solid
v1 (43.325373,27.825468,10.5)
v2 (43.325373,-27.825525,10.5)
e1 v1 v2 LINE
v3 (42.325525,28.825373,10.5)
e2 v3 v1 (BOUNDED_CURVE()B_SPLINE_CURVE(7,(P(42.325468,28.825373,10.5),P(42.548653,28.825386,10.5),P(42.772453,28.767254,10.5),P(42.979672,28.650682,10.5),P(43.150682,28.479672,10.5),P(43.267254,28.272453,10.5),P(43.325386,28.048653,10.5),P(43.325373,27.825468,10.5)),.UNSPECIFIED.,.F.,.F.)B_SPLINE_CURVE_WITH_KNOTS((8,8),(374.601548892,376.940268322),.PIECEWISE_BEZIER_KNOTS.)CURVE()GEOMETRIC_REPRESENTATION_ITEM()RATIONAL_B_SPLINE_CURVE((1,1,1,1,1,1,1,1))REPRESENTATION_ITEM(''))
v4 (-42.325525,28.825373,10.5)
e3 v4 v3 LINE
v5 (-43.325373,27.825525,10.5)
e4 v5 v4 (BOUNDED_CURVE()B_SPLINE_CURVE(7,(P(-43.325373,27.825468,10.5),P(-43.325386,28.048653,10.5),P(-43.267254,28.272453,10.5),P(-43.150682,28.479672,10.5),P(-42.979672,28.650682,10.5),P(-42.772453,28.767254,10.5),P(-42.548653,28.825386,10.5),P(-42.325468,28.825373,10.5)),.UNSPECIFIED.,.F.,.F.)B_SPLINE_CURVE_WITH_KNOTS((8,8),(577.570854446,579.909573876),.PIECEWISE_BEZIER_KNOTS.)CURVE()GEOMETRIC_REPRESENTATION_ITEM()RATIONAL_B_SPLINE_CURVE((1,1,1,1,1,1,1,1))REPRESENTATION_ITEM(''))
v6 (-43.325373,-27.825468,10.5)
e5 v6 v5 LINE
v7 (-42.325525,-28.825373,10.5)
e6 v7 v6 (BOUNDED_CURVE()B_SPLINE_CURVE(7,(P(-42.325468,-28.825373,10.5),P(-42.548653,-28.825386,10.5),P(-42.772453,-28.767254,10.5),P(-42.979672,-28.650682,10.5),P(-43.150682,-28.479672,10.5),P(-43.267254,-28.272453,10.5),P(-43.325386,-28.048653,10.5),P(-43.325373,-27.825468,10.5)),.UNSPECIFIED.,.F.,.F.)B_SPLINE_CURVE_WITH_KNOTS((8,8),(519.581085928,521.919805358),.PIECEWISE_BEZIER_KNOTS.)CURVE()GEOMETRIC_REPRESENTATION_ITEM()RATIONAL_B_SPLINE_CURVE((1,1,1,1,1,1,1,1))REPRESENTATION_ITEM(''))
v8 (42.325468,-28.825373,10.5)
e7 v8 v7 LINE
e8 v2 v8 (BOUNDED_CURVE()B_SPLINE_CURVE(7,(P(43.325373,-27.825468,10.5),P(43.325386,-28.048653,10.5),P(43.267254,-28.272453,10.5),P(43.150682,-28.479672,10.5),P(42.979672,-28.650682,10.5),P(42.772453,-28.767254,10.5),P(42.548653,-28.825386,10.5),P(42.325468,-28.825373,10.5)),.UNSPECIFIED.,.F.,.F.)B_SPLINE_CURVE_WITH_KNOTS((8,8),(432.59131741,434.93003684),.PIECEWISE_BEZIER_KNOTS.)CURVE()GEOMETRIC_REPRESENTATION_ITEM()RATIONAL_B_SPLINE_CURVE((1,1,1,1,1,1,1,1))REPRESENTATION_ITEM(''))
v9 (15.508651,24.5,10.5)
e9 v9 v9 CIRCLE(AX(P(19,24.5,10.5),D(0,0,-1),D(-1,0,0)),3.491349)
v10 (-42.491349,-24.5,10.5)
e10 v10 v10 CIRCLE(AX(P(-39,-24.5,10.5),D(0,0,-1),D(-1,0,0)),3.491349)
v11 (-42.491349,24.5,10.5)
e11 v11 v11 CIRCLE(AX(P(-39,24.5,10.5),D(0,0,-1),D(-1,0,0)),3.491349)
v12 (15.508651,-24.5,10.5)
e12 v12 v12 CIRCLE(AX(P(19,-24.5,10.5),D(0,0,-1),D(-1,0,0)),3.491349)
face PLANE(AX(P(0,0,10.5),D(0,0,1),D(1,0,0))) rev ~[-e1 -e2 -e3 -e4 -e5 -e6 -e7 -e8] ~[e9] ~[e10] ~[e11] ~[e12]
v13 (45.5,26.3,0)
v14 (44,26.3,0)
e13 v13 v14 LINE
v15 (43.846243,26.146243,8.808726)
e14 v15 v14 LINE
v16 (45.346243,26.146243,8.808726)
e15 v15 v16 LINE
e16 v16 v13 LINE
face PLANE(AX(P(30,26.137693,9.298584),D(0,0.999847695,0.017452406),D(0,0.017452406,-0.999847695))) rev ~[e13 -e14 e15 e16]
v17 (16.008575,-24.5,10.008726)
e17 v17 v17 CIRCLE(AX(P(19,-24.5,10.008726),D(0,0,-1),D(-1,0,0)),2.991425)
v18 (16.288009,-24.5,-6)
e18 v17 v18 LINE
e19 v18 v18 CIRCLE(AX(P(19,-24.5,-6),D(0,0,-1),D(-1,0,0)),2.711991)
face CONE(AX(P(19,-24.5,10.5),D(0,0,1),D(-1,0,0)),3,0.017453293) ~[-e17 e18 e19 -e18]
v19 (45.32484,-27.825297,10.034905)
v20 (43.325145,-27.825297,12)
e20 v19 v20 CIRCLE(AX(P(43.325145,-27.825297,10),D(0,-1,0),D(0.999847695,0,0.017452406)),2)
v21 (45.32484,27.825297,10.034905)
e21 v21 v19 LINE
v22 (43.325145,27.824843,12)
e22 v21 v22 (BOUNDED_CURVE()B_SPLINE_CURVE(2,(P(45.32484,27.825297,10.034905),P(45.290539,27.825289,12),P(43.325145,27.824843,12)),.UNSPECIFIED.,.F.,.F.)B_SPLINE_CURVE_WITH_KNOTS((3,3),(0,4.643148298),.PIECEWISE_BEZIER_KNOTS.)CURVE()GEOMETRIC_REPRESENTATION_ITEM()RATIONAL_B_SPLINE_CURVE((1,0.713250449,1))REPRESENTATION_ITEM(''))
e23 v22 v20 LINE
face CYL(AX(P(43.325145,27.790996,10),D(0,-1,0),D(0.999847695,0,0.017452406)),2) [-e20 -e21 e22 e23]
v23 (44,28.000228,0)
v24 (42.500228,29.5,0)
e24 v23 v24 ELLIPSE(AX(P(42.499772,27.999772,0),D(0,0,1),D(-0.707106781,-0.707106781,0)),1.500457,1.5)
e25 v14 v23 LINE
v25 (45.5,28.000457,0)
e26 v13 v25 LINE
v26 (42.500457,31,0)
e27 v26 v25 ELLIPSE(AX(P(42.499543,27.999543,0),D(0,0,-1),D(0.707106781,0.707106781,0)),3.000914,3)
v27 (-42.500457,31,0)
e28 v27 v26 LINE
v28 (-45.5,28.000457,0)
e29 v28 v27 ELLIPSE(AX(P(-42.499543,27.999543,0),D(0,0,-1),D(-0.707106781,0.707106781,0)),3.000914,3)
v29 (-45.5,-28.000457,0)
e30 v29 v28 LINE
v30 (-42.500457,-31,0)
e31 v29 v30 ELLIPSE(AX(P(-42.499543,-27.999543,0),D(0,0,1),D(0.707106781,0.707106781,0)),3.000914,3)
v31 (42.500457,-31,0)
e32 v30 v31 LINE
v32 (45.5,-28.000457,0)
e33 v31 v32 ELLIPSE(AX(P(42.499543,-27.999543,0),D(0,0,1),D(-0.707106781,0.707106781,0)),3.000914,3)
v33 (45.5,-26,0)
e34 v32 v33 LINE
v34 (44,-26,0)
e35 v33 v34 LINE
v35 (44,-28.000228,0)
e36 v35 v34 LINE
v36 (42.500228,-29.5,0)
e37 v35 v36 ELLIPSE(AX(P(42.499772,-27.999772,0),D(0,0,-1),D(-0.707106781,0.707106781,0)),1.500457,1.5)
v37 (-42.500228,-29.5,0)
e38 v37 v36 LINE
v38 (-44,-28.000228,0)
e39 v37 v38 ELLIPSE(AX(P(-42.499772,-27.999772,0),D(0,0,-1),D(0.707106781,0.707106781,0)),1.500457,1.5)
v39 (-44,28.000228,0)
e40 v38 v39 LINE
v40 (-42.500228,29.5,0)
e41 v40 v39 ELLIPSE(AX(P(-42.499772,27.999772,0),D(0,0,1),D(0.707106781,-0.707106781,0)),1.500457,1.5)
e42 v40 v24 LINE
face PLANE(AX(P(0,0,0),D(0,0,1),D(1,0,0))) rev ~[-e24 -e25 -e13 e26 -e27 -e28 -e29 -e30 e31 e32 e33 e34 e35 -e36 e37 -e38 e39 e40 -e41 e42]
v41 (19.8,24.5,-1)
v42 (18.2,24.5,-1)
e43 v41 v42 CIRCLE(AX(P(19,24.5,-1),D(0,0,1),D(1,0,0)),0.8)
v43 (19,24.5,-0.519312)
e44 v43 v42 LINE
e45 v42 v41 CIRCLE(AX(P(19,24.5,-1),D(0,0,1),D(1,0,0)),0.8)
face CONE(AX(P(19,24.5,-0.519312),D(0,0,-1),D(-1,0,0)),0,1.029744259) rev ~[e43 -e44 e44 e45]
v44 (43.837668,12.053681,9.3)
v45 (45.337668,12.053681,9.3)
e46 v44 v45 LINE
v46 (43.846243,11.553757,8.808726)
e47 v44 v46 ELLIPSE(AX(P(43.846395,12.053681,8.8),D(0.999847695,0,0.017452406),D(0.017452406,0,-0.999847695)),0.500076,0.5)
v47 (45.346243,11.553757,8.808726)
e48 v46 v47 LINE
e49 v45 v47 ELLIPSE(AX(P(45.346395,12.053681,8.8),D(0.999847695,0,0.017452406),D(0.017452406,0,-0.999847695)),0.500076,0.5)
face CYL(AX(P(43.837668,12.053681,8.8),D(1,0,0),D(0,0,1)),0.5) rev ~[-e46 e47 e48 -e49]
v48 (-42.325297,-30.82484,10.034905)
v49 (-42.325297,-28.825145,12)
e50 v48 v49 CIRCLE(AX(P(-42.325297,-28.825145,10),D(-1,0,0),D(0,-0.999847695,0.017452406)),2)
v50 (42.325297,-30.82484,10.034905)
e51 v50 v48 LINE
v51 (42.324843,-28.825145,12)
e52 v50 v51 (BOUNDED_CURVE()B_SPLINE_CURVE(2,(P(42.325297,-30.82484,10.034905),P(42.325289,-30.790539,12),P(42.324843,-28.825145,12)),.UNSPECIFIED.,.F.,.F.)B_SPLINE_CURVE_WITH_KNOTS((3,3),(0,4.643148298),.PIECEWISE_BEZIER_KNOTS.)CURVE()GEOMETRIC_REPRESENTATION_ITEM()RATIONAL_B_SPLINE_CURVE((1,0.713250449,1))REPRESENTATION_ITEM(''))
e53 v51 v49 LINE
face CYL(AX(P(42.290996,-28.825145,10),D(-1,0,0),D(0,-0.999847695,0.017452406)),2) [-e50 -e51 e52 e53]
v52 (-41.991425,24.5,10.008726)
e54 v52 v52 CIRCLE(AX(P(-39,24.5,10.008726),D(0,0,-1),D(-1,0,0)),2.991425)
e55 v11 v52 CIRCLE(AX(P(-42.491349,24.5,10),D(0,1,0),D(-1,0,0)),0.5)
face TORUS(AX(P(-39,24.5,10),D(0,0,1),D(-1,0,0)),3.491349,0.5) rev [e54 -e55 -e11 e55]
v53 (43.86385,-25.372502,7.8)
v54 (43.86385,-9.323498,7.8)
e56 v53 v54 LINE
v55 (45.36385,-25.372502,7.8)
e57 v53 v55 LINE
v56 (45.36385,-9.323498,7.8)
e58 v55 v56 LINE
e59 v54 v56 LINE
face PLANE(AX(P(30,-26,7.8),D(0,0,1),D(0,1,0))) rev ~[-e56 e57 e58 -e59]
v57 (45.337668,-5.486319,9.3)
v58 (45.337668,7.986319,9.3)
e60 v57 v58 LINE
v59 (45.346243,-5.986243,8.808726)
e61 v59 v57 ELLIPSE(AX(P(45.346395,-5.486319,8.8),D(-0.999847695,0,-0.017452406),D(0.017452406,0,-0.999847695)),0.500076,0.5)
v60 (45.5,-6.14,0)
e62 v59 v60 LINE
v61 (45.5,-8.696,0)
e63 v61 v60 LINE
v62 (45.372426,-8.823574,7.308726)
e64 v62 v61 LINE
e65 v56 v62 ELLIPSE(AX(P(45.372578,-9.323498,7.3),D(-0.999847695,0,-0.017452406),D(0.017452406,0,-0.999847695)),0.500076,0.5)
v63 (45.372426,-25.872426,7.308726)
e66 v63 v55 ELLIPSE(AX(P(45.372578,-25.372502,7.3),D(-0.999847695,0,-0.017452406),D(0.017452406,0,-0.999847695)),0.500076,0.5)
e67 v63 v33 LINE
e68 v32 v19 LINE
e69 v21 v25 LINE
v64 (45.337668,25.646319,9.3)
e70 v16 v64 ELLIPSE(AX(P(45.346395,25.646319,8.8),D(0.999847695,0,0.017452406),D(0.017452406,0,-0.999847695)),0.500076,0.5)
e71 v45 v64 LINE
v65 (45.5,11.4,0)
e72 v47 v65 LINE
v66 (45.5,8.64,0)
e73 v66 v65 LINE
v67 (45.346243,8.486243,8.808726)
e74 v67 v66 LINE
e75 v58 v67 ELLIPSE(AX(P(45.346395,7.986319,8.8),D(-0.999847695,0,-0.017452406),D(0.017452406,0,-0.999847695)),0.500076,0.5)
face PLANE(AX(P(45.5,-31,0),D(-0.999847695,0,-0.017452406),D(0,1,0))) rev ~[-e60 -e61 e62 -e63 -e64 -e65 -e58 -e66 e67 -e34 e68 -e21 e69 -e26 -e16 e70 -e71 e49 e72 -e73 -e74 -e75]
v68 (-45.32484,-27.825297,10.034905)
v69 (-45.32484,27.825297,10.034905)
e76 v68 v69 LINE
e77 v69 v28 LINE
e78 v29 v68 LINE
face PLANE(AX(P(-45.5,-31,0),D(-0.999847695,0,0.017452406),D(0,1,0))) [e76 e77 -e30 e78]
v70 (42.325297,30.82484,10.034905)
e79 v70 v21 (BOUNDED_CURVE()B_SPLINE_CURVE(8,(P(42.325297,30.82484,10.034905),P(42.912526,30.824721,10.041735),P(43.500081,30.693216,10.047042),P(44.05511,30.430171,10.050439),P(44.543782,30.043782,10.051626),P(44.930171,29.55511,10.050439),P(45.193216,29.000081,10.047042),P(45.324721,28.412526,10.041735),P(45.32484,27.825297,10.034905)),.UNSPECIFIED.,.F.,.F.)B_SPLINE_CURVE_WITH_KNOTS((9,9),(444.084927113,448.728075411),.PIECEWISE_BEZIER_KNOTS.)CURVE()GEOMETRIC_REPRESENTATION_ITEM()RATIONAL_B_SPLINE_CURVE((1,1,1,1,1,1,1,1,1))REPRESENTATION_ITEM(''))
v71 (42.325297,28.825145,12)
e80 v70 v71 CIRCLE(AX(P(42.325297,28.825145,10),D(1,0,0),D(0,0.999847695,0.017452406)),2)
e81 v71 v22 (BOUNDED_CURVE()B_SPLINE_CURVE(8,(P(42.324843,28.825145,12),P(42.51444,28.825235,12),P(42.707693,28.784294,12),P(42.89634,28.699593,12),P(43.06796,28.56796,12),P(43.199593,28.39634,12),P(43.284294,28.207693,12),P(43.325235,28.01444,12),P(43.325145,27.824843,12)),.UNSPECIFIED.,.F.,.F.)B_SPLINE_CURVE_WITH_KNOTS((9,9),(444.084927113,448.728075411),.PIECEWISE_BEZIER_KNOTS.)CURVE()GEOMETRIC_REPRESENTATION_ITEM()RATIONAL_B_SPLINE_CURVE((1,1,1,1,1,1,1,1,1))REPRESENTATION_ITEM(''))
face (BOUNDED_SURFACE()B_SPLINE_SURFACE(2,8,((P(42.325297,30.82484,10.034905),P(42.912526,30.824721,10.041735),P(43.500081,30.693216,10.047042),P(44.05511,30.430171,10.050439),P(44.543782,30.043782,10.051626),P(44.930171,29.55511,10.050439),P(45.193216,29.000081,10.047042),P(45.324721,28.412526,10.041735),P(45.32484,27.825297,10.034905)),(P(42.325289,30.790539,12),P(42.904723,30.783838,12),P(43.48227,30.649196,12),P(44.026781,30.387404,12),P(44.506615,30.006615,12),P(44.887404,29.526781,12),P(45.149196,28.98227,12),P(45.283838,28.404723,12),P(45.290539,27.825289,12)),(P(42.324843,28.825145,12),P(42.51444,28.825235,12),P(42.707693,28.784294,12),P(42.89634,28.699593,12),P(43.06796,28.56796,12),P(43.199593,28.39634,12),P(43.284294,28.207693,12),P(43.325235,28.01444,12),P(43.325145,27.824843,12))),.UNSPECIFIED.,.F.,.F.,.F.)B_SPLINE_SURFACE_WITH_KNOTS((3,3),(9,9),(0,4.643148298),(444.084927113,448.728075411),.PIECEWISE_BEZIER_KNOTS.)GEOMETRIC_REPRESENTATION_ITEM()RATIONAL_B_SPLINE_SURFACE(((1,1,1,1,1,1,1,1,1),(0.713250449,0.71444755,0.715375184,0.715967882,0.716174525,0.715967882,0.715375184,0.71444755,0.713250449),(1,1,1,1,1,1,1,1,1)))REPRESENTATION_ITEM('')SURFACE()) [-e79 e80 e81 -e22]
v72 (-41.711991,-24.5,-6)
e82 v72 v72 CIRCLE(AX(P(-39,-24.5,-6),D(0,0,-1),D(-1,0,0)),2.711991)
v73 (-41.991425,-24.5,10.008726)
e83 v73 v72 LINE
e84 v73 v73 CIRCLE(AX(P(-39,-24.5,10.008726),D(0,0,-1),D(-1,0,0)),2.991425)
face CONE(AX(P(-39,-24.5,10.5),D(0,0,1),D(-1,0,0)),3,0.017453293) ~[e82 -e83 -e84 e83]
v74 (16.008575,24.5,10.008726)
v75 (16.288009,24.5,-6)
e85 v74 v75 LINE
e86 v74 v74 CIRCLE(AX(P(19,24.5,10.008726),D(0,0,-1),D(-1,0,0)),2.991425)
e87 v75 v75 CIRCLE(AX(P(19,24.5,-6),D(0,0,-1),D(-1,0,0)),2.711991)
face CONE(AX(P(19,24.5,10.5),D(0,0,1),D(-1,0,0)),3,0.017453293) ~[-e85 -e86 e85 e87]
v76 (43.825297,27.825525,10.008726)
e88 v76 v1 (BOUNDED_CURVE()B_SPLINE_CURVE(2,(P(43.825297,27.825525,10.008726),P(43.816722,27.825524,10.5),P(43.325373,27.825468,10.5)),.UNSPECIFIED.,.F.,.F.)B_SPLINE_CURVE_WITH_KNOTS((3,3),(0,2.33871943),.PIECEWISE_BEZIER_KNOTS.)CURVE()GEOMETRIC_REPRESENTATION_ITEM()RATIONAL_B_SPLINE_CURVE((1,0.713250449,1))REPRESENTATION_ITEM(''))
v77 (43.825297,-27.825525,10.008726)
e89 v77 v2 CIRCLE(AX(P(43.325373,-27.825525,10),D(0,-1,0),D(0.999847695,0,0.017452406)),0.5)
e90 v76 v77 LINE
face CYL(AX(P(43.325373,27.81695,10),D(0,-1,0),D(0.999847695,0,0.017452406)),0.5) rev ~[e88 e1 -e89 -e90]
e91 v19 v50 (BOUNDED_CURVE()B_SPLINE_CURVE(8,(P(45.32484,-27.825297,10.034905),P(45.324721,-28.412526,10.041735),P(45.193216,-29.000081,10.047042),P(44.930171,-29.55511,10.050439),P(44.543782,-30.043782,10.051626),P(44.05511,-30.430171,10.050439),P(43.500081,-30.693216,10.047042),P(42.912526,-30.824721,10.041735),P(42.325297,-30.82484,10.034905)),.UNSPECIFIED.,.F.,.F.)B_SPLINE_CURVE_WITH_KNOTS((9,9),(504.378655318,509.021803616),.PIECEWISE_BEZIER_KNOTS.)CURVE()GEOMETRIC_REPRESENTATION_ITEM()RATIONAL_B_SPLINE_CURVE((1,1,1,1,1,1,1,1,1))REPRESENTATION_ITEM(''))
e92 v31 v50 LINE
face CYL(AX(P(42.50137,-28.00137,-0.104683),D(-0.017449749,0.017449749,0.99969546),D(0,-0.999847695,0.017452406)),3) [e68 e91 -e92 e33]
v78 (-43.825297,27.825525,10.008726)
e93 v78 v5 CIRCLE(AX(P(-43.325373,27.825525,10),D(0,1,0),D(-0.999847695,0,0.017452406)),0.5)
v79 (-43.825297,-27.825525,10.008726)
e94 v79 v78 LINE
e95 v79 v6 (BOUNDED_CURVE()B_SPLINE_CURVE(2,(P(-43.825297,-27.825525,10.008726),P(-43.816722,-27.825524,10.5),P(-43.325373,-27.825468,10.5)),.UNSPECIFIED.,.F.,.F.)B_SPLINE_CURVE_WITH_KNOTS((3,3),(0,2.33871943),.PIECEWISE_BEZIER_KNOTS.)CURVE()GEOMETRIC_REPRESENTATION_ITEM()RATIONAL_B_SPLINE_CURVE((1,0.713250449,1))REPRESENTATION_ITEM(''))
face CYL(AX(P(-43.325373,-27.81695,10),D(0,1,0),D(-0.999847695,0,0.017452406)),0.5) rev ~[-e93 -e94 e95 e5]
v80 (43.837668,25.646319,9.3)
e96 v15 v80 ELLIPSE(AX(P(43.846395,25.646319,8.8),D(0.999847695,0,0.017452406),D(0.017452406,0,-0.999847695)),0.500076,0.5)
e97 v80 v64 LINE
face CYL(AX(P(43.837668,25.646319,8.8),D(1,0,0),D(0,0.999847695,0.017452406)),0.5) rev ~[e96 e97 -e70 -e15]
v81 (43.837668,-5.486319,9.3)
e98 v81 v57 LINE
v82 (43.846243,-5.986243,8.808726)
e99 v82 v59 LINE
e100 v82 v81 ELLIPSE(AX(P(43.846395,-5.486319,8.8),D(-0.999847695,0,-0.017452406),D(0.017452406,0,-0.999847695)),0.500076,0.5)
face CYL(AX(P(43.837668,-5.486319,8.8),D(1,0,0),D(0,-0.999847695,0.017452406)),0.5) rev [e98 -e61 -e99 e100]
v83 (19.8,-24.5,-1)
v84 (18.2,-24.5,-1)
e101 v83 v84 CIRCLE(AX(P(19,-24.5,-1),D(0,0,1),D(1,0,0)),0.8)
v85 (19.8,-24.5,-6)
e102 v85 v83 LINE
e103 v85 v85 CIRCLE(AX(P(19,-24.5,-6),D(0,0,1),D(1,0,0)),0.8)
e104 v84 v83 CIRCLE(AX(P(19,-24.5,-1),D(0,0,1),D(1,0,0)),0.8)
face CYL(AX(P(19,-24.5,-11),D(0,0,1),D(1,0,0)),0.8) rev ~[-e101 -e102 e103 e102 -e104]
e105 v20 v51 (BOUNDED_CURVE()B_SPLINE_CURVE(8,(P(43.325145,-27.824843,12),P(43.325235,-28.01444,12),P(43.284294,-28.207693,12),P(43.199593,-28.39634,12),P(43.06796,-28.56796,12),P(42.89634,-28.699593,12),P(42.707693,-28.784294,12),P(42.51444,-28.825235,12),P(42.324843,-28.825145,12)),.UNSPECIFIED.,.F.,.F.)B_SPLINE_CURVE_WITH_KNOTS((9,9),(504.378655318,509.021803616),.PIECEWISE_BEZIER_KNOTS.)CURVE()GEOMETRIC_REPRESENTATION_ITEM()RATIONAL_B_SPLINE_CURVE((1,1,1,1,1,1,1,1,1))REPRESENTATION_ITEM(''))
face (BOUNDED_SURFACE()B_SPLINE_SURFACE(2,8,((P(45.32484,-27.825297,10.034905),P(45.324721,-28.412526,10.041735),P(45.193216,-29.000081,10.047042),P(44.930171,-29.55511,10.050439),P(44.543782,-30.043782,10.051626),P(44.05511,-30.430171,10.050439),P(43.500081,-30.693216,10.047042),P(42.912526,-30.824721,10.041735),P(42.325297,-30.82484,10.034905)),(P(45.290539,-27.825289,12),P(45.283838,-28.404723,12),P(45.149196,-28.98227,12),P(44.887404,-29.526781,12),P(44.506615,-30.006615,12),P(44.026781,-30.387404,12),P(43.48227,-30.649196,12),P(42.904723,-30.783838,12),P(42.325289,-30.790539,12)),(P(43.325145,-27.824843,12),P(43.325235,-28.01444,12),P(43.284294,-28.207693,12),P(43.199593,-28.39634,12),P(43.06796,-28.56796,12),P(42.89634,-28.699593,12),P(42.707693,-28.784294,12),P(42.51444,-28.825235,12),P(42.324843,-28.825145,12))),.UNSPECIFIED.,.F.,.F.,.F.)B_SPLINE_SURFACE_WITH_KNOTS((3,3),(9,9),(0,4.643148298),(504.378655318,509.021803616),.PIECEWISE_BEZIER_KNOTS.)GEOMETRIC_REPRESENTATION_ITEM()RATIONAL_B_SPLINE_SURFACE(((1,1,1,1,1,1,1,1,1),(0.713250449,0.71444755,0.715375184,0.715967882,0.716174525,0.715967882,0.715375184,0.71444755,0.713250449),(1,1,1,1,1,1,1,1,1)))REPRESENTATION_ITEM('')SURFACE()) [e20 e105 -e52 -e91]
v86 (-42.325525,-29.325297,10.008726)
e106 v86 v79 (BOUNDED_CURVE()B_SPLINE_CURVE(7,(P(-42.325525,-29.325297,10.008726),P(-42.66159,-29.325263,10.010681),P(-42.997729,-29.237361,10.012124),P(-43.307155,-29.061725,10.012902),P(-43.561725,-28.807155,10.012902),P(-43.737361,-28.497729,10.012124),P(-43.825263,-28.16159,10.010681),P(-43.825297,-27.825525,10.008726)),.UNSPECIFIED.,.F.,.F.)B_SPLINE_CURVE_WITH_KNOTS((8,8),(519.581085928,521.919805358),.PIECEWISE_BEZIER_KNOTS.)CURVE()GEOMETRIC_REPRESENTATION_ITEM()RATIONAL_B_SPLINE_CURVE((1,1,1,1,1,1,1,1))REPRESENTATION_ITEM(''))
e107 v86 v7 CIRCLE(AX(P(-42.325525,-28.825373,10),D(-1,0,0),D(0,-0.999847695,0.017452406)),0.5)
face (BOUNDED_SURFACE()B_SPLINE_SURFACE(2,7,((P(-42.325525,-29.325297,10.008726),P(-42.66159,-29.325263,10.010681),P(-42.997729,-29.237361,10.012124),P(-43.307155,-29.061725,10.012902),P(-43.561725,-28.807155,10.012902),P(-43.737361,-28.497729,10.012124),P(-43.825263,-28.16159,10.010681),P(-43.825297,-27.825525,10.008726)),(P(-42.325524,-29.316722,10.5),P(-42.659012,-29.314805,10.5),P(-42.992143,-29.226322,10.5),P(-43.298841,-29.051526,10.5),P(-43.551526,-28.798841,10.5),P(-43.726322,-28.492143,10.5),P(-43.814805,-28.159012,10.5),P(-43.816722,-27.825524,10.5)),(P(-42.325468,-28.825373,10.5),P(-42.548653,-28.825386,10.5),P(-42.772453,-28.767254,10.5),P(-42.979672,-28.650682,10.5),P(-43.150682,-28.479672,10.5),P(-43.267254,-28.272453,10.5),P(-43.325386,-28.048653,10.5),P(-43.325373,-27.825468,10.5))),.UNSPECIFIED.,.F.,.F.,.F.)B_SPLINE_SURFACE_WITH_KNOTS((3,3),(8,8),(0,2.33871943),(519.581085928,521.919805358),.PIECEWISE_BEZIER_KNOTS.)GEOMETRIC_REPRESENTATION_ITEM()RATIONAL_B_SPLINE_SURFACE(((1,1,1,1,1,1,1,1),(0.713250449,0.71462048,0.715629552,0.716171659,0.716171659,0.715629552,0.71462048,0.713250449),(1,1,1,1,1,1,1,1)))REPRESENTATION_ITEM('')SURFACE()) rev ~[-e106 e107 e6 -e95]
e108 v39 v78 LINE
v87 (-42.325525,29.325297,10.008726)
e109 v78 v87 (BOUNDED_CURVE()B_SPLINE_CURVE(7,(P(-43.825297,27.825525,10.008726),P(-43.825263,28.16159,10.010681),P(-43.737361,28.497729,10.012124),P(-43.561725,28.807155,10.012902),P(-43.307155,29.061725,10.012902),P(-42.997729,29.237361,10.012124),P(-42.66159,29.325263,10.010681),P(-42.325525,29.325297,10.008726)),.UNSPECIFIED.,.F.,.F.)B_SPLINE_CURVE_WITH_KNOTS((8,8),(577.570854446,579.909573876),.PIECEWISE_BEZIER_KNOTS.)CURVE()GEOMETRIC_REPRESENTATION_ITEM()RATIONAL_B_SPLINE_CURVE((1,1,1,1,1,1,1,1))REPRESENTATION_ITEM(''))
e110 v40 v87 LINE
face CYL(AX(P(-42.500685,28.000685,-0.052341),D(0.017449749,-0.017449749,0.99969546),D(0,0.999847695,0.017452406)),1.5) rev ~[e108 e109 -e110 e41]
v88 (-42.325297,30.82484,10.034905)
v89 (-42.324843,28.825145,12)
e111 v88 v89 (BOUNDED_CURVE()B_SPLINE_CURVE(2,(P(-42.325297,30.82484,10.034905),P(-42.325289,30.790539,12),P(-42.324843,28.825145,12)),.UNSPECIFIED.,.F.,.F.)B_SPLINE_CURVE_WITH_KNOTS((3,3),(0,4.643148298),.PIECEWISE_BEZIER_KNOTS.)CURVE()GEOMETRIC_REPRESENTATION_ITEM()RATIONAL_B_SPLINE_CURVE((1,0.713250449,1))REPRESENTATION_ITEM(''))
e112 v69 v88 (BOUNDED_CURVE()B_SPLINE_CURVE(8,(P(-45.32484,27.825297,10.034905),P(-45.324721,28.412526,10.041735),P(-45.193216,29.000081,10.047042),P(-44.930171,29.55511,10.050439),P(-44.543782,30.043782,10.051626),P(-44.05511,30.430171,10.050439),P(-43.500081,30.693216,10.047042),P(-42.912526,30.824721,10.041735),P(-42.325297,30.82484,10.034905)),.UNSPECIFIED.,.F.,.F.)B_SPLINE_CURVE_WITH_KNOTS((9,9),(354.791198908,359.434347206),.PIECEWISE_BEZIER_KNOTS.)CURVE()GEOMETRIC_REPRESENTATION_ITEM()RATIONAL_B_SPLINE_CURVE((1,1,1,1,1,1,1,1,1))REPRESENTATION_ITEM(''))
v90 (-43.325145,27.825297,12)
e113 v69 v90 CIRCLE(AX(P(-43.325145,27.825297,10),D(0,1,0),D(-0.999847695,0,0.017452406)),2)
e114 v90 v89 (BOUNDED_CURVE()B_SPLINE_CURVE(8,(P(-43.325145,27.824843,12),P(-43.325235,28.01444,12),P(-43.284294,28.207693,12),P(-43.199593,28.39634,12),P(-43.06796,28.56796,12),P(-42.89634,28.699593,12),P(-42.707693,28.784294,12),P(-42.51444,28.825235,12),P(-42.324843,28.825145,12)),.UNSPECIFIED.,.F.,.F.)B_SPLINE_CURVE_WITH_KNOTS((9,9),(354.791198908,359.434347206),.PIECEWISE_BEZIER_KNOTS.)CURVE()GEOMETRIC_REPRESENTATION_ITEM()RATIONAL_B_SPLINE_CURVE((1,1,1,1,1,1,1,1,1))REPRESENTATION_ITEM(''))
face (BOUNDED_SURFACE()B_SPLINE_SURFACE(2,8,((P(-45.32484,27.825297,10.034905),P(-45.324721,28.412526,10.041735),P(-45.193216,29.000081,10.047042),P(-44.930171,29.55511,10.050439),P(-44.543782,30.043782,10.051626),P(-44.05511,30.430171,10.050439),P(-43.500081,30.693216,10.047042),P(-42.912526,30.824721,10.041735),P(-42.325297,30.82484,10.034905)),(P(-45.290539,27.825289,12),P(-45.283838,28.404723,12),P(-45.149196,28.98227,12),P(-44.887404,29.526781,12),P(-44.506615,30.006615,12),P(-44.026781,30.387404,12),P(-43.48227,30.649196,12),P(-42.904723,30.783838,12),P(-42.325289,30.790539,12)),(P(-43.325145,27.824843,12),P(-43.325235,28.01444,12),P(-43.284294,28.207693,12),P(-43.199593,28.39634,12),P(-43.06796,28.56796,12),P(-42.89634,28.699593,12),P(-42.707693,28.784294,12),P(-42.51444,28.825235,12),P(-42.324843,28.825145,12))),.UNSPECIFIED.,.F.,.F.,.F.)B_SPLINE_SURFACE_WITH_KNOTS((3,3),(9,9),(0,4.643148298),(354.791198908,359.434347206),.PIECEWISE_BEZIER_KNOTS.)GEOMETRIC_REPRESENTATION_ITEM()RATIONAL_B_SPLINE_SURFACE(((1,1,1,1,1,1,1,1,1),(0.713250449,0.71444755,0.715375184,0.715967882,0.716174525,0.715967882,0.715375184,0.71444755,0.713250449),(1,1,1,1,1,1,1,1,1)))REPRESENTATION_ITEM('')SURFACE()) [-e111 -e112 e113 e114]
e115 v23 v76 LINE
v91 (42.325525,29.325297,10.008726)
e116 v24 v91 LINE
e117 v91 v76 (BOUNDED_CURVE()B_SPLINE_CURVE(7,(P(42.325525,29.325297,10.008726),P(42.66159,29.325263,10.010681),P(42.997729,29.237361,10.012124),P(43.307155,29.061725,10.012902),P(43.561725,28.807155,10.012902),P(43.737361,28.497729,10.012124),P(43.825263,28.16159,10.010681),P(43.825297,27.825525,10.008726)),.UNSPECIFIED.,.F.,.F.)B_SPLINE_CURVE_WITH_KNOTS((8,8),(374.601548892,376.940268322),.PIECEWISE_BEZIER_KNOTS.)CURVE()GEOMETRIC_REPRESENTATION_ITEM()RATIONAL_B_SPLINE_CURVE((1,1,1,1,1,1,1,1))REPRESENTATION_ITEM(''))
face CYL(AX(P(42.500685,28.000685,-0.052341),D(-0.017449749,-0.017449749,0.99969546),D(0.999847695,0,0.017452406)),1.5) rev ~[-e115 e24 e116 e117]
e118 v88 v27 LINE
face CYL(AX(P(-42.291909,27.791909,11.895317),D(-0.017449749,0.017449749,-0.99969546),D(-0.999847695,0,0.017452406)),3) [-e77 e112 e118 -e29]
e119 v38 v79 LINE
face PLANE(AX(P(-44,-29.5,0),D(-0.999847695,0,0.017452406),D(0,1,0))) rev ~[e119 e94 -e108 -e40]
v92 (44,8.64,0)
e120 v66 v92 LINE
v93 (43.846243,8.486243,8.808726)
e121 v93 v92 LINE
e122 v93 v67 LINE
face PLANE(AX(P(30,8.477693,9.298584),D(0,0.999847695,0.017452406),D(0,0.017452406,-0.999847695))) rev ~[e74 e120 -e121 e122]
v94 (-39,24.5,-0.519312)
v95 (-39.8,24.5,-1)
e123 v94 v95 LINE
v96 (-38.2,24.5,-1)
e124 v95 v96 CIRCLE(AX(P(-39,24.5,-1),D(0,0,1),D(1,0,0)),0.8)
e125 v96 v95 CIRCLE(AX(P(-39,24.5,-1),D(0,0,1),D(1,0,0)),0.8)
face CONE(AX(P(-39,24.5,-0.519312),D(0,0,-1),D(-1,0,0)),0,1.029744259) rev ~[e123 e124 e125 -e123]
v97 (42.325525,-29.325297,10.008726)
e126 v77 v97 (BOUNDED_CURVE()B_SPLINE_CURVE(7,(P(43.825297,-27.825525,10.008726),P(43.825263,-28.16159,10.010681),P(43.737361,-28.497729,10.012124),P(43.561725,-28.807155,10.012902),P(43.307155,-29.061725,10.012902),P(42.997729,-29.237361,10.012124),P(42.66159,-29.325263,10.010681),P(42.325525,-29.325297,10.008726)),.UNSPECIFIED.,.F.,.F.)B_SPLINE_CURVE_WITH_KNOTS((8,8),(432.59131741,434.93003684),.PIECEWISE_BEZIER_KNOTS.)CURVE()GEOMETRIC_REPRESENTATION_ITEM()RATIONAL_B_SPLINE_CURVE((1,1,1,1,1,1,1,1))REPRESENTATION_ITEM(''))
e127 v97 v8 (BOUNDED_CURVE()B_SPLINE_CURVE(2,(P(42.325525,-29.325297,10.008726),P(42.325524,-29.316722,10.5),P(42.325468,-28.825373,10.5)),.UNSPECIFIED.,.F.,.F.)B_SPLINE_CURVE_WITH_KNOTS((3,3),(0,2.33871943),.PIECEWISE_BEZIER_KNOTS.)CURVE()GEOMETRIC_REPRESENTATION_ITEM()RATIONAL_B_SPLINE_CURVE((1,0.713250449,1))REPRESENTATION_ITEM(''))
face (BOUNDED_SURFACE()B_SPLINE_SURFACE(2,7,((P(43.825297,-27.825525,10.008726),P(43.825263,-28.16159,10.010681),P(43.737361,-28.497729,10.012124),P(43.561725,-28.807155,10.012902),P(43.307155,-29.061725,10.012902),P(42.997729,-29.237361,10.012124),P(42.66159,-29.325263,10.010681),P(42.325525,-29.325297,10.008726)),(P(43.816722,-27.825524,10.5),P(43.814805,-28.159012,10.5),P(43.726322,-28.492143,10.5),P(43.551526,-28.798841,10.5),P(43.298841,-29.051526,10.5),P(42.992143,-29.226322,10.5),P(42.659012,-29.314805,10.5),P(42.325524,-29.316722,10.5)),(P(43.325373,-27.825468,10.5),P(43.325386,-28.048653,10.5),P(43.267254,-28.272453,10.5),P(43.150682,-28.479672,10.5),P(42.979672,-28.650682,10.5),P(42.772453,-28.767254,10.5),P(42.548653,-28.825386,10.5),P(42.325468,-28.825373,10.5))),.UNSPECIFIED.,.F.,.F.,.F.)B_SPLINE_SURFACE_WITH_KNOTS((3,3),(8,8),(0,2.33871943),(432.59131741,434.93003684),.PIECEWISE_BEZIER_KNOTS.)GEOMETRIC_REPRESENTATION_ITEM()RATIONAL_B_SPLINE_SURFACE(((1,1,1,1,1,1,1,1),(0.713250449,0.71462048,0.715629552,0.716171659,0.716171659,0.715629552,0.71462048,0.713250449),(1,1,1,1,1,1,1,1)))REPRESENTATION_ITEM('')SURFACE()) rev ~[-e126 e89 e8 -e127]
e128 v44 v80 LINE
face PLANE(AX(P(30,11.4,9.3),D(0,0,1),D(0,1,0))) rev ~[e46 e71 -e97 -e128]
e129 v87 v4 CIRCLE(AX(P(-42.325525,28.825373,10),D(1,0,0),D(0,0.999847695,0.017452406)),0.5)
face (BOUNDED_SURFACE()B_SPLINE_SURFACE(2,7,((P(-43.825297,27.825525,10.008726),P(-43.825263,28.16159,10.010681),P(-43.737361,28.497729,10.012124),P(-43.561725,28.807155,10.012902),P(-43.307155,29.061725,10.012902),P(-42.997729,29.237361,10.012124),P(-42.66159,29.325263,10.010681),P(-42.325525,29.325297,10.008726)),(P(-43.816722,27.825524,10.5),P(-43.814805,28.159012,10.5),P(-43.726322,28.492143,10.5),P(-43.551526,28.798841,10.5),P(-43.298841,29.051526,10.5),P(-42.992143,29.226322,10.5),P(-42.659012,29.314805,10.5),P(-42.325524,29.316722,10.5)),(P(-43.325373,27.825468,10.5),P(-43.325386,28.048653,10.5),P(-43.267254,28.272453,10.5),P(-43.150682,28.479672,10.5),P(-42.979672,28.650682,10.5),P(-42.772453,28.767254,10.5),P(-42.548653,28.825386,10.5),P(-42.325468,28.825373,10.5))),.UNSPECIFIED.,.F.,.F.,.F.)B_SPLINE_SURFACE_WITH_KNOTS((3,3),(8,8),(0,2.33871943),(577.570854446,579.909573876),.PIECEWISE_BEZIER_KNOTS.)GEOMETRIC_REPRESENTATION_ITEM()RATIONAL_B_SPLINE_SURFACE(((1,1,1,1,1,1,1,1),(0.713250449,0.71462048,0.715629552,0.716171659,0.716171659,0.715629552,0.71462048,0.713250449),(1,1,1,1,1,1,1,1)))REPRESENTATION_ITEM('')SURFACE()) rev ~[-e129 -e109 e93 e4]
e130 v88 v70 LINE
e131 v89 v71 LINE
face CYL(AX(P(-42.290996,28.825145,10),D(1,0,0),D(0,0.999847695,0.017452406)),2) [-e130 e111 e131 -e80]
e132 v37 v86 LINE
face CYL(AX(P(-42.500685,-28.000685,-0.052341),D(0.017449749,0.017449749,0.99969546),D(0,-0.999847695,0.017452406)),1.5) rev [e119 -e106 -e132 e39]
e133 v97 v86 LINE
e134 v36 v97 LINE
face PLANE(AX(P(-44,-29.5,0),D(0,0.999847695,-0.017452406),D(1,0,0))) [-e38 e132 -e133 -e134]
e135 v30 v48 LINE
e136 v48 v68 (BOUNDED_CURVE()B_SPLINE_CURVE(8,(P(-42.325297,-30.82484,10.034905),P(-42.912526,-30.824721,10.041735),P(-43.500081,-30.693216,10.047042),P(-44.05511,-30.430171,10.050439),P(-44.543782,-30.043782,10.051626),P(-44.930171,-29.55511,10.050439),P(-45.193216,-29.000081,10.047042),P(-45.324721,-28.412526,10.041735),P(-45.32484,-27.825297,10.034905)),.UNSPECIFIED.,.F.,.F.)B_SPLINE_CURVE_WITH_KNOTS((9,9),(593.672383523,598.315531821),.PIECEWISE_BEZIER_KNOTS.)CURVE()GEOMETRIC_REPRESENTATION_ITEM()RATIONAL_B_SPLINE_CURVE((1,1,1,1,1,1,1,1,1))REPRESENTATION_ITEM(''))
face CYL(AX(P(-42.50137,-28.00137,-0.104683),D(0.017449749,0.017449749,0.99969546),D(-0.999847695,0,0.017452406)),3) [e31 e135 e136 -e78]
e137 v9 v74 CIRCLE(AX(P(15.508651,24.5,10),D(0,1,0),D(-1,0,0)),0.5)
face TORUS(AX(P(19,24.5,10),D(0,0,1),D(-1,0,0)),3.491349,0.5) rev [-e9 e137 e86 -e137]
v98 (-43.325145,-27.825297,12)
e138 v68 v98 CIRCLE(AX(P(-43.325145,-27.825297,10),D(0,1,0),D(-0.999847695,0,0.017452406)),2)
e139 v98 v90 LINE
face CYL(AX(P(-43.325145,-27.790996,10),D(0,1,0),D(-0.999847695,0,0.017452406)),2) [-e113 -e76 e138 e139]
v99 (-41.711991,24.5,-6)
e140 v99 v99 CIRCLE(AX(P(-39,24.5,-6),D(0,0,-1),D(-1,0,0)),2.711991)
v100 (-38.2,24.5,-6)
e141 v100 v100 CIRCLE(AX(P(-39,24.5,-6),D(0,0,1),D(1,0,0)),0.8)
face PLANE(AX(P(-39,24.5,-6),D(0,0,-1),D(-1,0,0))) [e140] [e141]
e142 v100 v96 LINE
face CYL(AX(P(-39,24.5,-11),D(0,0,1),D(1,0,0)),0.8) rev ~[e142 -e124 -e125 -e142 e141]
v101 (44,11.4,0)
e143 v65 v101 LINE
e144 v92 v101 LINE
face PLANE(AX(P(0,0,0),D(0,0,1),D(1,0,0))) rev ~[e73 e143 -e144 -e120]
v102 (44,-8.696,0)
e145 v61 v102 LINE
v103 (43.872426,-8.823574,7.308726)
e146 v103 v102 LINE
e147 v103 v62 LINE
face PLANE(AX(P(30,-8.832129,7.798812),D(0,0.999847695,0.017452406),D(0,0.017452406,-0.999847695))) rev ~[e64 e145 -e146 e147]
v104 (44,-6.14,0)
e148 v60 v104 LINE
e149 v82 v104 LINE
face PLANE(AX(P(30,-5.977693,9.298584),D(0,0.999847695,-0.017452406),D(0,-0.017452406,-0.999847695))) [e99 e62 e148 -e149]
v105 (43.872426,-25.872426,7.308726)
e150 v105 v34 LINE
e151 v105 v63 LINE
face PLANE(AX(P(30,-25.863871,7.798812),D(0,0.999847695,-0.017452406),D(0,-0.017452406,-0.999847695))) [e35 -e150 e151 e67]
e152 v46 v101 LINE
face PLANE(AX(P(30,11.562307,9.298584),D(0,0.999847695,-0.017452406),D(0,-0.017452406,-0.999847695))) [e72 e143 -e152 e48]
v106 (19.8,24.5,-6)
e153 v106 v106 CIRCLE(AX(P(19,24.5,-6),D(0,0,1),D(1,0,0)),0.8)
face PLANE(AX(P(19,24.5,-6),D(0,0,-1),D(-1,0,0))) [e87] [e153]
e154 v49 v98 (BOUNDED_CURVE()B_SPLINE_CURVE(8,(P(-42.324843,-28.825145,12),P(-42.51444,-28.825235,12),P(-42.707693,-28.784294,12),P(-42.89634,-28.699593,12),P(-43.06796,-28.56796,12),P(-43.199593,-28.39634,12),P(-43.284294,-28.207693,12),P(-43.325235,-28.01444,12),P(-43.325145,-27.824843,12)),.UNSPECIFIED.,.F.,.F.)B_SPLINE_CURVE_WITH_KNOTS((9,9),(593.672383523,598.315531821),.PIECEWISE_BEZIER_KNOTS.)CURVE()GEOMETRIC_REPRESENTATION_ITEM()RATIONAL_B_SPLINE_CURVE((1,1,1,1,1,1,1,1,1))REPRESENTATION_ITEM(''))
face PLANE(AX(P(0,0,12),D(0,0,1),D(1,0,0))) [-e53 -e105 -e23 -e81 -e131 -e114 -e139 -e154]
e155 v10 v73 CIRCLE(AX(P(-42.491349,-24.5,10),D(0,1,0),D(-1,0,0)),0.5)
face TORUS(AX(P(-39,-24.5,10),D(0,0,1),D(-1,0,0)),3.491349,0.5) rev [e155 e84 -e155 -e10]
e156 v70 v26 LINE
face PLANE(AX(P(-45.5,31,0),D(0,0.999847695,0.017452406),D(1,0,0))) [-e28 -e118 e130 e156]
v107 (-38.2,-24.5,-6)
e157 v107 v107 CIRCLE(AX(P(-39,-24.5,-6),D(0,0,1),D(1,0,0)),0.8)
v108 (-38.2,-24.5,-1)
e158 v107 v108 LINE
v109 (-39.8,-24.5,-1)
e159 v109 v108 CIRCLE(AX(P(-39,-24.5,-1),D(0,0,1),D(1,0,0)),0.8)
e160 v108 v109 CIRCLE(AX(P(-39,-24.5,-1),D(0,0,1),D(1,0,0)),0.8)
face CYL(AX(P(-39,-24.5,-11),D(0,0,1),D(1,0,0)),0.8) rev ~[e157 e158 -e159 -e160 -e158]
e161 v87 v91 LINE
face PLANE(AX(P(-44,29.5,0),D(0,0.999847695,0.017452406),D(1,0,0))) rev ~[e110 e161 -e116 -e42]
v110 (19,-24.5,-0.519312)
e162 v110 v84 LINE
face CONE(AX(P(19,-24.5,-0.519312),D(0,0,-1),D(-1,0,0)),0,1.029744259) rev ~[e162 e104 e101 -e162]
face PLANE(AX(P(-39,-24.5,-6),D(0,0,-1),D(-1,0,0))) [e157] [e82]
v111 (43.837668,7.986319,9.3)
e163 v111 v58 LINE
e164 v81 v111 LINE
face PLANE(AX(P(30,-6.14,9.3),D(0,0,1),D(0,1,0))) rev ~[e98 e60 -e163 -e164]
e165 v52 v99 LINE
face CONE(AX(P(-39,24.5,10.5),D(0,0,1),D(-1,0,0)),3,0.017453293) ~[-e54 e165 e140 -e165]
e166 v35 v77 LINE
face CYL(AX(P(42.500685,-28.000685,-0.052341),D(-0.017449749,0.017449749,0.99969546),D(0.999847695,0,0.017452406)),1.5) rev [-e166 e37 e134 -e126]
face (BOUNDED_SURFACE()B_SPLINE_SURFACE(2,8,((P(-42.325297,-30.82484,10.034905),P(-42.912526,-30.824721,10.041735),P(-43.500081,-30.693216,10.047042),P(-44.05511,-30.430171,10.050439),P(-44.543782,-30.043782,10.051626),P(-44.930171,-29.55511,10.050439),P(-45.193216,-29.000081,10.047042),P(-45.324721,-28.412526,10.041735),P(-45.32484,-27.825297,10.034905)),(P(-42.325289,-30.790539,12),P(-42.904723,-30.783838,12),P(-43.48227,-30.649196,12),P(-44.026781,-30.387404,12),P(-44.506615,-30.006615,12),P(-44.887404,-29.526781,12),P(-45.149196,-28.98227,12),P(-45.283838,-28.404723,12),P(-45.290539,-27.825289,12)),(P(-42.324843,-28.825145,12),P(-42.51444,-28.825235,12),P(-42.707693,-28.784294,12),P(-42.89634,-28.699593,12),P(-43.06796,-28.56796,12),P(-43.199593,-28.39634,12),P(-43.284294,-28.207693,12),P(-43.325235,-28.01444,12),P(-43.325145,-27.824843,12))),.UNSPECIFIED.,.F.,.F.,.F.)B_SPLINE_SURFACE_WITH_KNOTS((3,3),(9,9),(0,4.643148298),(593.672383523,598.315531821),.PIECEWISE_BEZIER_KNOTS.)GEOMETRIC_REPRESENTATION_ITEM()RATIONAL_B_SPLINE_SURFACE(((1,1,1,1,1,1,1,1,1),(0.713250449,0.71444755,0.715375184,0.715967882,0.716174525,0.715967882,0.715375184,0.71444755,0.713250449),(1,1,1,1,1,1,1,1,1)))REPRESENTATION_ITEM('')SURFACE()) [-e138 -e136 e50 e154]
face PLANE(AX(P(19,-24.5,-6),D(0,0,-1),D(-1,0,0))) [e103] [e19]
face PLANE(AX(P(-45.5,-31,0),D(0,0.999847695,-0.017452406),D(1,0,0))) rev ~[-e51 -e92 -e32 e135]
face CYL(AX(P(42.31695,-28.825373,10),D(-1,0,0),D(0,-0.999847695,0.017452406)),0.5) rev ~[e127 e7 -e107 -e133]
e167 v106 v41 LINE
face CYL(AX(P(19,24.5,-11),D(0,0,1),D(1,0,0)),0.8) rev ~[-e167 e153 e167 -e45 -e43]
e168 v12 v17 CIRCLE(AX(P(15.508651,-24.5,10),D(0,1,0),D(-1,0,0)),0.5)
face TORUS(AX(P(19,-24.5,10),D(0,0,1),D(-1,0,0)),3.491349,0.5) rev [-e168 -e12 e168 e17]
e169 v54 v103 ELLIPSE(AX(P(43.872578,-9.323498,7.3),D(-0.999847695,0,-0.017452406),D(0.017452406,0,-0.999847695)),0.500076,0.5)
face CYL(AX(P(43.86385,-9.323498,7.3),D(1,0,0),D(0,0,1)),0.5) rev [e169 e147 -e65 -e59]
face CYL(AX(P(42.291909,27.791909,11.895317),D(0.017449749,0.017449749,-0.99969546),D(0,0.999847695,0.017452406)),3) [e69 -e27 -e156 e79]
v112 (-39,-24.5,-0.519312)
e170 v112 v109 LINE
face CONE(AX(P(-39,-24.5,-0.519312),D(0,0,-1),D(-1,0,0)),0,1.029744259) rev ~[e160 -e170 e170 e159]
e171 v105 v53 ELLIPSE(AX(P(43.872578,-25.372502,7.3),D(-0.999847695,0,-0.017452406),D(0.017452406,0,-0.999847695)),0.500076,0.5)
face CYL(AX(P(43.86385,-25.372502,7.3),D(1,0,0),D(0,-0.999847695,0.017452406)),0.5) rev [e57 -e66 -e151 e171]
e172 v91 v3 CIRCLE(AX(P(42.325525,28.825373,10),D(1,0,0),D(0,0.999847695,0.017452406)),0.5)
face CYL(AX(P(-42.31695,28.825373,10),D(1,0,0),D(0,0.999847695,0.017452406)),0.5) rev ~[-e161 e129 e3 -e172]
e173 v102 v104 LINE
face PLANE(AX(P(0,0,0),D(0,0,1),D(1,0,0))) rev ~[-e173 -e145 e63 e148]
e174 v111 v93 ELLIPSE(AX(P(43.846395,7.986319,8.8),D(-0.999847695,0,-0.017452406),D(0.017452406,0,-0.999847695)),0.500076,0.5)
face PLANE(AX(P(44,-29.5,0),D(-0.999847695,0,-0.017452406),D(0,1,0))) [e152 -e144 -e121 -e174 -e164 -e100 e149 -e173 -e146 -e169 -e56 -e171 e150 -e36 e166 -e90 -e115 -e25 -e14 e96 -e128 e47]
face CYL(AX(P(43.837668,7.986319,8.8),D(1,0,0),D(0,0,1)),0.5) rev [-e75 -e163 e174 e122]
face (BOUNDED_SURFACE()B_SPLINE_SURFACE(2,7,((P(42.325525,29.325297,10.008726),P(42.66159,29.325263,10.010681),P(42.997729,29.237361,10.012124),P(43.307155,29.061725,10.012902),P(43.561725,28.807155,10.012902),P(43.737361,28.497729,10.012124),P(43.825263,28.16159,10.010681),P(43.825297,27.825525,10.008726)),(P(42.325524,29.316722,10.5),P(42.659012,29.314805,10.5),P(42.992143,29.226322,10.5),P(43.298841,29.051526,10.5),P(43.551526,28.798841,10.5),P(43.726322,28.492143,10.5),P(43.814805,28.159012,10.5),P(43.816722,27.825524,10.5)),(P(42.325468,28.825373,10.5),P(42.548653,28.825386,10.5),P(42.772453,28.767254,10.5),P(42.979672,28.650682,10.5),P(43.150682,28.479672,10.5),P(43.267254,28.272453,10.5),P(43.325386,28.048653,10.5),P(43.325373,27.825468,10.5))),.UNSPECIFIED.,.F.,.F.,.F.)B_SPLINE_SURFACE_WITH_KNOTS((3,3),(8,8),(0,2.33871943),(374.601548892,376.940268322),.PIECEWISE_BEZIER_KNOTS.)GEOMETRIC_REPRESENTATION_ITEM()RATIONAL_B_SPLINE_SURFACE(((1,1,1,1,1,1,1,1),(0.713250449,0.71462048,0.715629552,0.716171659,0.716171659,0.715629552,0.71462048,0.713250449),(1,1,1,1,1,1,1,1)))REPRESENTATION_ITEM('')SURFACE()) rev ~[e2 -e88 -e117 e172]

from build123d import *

# Parameters (mm, degrees)
SKETCH1_W                   = 91
SKETCH1_H                   = 62
SKETCH1_W_2                 = 88
SKETCH1_H_2                 = 59
WALLS_DEPTH                 = 12
SKETCH2_W                   = 91
SKETCH2_H                   = 62
TOP_FACE_DEPTH              = 1.5
SKETCH3_R                   = 3
STANDOFFS_DEPTH             = 16.5
STANDOFFS_DRAFT             = 1
STANDOFFS_PROFILE_2_DEPTH   = 16.5
STANDOFFS_PROFILE_2_DRAFT   = 1
STANDOFFS_PROFILE_3_DEPTH   = 16.5
STANDOFFS_PROFILE_3_DRAFT   = 1
STANDOFFS_PROFILE_4_DEPTH   = 16.5
STANDOFFS_PROFILE_4_DRAFT   = 1
M2X0_4_TAPPED_HOLE1_D       = 1.6
M2X0_4_TAPPED_HOLE1_DEPTH   = 5
M2X0_4_TAPPED_HOLE1_TIP     = 0.480688495
USB_START                   = 30
SKETCH7_W                   = 14.2
SKETCH7_H                   = 17.304
SKETCH7_W_2                 = 16.490000002
SKETCH7_H_2                 = 14.78
SKETCH7_H_3                 = 14.9
USB_AND_ETHERNET_CUTS_DEPTH = 27.349356695
DRAFT1_ANGLE                = -1
DRAFT2_ANGLE                = 1
FILLET1_R                   = 3
FILLET2_R                   = 1.5
FILLET3_R                   = 2
FILLET4_R                   = 0.5
DRAFT3_ANGLE                = 1
FILLET5_R                   = 0.5


with BuildPart() as part:
    # Sketch1 → Walls (new body)
    with BuildSketch(Plane.XY):
        Rectangle(SKETCH1_W, SKETCH1_H)
        Rectangle(SKETCH1_W_2, SKETCH1_H_2, mode=Mode.SUBTRACT)
    extrude(amount=WALLS_DEPTH)

    # Sketch2 → Top Face (add)
    with BuildSketch(Plane.XY.offset(12)):
        Rectangle(SKETCH2_W, SKETCH2_H)
    extrude(amount=-TOP_FACE_DEPTH)


with BuildPart() as standoffs_tool:
    # Sketch3 → Standoffs (with draft: the straight prism first)
    with BuildSketch(Plane(origin=(0, 0, 10.5), x_dir=(-1, 0, 0), z_dir=(0, 0, -1))):
        with Locations((39, -24.5)):
            Circle(SKETCH3_R)
    extrude(amount=STANDOFFS_DEPTH)
    # Standoffs: the draft: its side faces are tilted about the plane it starts from
    standoffs_sides = [standoffs_tool.faces().sort_by_distance(p)[0] for p in [
        (-36, -24.5, 2.25),
    ]]
    draft(standoffs_sides, Plane(origin=(0, 0, 10.5), x_dir=(-1, 0, 0), z_dir=(0, 0, -1)), STANDOFFS_DRAFT)


with BuildPart() as part_1:
    add(part.part)

    # Standoffs: add standoffs_tool
    add(standoffs_tool.part)


with BuildPart() as standoffs_profile_2_tool:
    # Sketch3 → Standoffs profile 2 (with draft: the straight prism first)
    with BuildSketch(Plane(origin=(0, 0, 10.5), x_dir=(-1, 0, 0), z_dir=(0, 0, -1))):
        with Locations((-19, -24.5)):
            Circle(SKETCH3_R)
    extrude(amount=STANDOFFS_PROFILE_2_DEPTH)
    # Standoffs profile 2: the draft: its side faces are tilted about the plane it starts from
    standoffs_profile_2_sides = [standoffs_profile_2_tool.faces().sort_by_distance(p)[0] for p in [
        (22, -24.5, 2.25),
    ]]
    draft(standoffs_profile_2_sides, Plane(origin=(0, 0, 10.5), x_dir=(-1, 0, 0), z_dir=(0, 0, -1)), STANDOFFS_PROFILE_2_DRAFT)


with BuildPart() as part_2:
    add(part_1.part)

    # Standoffs profile 2: add standoffs_profile_2_tool
    add(standoffs_profile_2_tool.part)


with BuildPart() as standoffs_profile_3_tool:
    # Sketch3 → Standoffs profile 3 (with draft: the straight prism first)
    with BuildSketch(Plane(origin=(0, 0, 10.5), x_dir=(-1, 0, 0), z_dir=(0, 0, -1))):
        with Locations((39, 24.5)):
            Circle(SKETCH3_R)
    extrude(amount=STANDOFFS_PROFILE_3_DEPTH)
    # Standoffs profile 3: the draft: its side faces are tilted about the plane it starts from
    standoffs_profile_3_sides = [standoffs_profile_3_tool.faces().sort_by_distance(p)[0] for p in [
        (-36, 24.5, 2.25),
    ]]
    draft(standoffs_profile_3_sides, Plane(origin=(0, 0, 10.5), x_dir=(-1, 0, 0), z_dir=(0, 0, -1)), STANDOFFS_PROFILE_3_DRAFT)


with BuildPart() as part_3:
    add(part_2.part)

    # Standoffs profile 3: add standoffs_profile_3_tool
    add(standoffs_profile_3_tool.part)


with BuildPart() as standoffs_profile_4_tool:
    # Sketch3 → Standoffs profile 4 (with draft: the straight prism first)
    with BuildSketch(Plane(origin=(0, 0, 10.5), x_dir=(-1, 0, 0), z_dir=(0, 0, -1))):
        with Locations((-19, 24.5)):
            Circle(SKETCH3_R)
    extrude(amount=STANDOFFS_PROFILE_4_DEPTH)
    # Standoffs profile 4: the draft: its side faces are tilted about the plane it starts from
    standoffs_profile_4_sides = [standoffs_profile_4_tool.faces().sort_by_distance(p)[0] for p in [
        (22, 24.5, 2.25),
    ]]
    draft(standoffs_profile_4_sides, Plane(origin=(0, 0, 10.5), x_dir=(-1, 0, 0), z_dir=(0, 0, -1)), STANDOFFS_PROFILE_4_DRAFT)


with BuildPart() as part_4:
    add(part_3.part)

    # Standoffs profile 4: add standoffs_profile_4_tool
    add(standoffs_profile_4_tool.part)

    # M2x0.4 Tapped Hole1
    with Locations(Plane(origin=(0, 0, -6), x_dir=(-1, 0, 0), z_dir=(0, 0, -1))):
        with Locations((-19, -24.5), (-19, 24.5), (39, 24.5), (39, -24.5)):
            Hole(M2X0_4_TAPPED_HOLE1_D / 2, depth=M2X0_4_TAPPED_HOLE1_DEPTH)
            with Locations((0, 0, -(M2X0_4_TAPPED_HOLE1_DEPTH + M2X0_4_TAPPED_HOLE1_TIP / 2))):  # 118° drill point
                Cone(0, M2X0_4_TAPPED_HOLE1_D / 2, M2X0_4_TAPPED_HOLE1_TIP, mode=Mode.SUBTRACT)

    # Sketch7 → USB and Ethernet Cuts (cut, through all)
    with BuildSketch(Plane(origin=(0, 0, 0), x_dir=(0, 0, -1), z_dir=(1, 0, 0)).offset(USB_START)):
        with Locations((-0.7, -17.348)):
            Rectangle(SKETCH7_W, SKETCH7_H)
        with Locations((-1.054999999, 1.25)):
            Rectangle(SKETCH7_W_2, SKETCH7_H_2)
        with Locations((-1.054999999, 18.85)):
            Rectangle(SKETCH7_W_2, SKETCH7_H_3)
    extrude(amount=USB_AND_ETHERNET_CUTS_DEPTH, mode=Mode.SUBTRACT)

    # Draft1
    draft1_faces = [part_4.faces().sort_by_distance(p)[0] for p in [
        (0, 31, 6),
        (45.5, -28.5, 0.631506136),
        (-45.5, 0, 6),
        (0, -31, 6),
    ]]
    draft(draft1_faces, Plane(origin=(0, 0, 0), x_dir=(-1, 0, 0), z_dir=(0, 0, -1)), DRAFT1_ANGLE)

    # Draft2
    draft2_faces = [part_4.faces().sort_by_distance(p)[0] for p in [
        (0, -29.5, 5.25),
        (-44, 0, 5.25),
        (0, 29.5, 5.25),
        (44, -27.75, 0.59927039),
    ]]
    draft(draft2_faces, Plane(origin=(0, 0, 0), x_dir=(-1, 0, 0), z_dir=(0, 0, -1)), DRAFT2_ANGLE)

    # Fillet1
    fillet1_edges = [part_4.edges().sort_by_distance(p)[0] for p in [
        (45.39526961, 30.89526961, 6),
        (45.39526961, -30.89526961, 6),
        (-45.39526961, -30.89526961, 6),
        (-45.39526961, 30.89526961, 6),
    ]]
    fillet(fillet1_edges, radius=FILLET1_R)

    # Fillet2
    fillet2_edges = [part_4.edges().sort_by_distance(p)[0] for p in [
        (43.908360909, -29.408360909, 5.25),
        (43.908360909, 29.408360909, 5.25),
        (-43.908360909, -29.408360909, 5.25),
        (-43.908360909, 29.408360909, 5.25),
    ]]
    fillet(fillet2_edges, radius=FILLET2_R)

    # Fillet3
    fillet3_edges = [part_4.edges().sort_by_distance(p)[0] for p in [
        (-45.290539221, 0, 12),
        (0, 30.790539221, 12),
        (0, -30.790539221, 12),
        (45.290539221, 0, 12),
        (44.412048804, -29.912048804, 12),
        (44.412048804, 29.912048804, 12),
        (-44.412048804, -29.912048804, 12),
        (-44.412048804, 29.912048804, 12),
    ]]
    fillet(fillet3_edges, radius=FILLET3_R)

    # Fillet4
    fillet4_edges = [part_4.edges().sort_by_distance(p)[0] for p in [
        (0, 29.316721818, 10.5),
        (-43.816721818, 0, 10.5),
        (43.816721818, 0, 10.5),
        (0, -29.316721818, 10.5),
        (43.37747661, -28.87747661, 10.5),
        (43.37747661, 28.87747661, 10.5),
        (-43.37747661, -28.87747661, 10.5),
        (-43.37747661, 28.87747661, 10.5),
        (-36, -24.5, 10.5),
        (22, -24.5, 10.5),
        (-36, 24.5, 10.5),
        (22, 24.5, 10.5),
    ]]
    fillet(fillet4_edges, radius=FILLET4_R)

    # Draft3
    draft3_faces = [part_4.faces().sort_by_distance(p)[0] for p in [
        (44.681925247, -8.696, 3.9),
        (44.668833948, 8.64, 4.65),
        (44.668833948, 26.3, 4.65),
        (44.668833948, 11.4, 4.65),
        (44.668833948, -6.14, 4.65),
        (44.681925247, -26, 3.9),
    ]]
    draft(draft3_faces, Plane(origin=(0, 0, 0), x_dir=(-1, 0, 0), z_dir=(0, 0, -1)), DRAFT3_ANGLE)

    # Fillet5
    fillet5_edges = [part_4.edges().sort_by_distance(p)[0] for p in [
        (44.587667896, 8.477667896, 9.3),
        (44.587667896, -5.977667896, 9.3),
        (44.587667896, 26.137667896, 9.3),
        (44.587667896, 11.562332104, 9.3),
        (44.613850494, -8.832149506, 7.8),
        (44.613850494, -25.863850494, 7.8),
    ]]
    fillet(fillet5_edges, radius=FILLET5_R)


solid = part_4.part
